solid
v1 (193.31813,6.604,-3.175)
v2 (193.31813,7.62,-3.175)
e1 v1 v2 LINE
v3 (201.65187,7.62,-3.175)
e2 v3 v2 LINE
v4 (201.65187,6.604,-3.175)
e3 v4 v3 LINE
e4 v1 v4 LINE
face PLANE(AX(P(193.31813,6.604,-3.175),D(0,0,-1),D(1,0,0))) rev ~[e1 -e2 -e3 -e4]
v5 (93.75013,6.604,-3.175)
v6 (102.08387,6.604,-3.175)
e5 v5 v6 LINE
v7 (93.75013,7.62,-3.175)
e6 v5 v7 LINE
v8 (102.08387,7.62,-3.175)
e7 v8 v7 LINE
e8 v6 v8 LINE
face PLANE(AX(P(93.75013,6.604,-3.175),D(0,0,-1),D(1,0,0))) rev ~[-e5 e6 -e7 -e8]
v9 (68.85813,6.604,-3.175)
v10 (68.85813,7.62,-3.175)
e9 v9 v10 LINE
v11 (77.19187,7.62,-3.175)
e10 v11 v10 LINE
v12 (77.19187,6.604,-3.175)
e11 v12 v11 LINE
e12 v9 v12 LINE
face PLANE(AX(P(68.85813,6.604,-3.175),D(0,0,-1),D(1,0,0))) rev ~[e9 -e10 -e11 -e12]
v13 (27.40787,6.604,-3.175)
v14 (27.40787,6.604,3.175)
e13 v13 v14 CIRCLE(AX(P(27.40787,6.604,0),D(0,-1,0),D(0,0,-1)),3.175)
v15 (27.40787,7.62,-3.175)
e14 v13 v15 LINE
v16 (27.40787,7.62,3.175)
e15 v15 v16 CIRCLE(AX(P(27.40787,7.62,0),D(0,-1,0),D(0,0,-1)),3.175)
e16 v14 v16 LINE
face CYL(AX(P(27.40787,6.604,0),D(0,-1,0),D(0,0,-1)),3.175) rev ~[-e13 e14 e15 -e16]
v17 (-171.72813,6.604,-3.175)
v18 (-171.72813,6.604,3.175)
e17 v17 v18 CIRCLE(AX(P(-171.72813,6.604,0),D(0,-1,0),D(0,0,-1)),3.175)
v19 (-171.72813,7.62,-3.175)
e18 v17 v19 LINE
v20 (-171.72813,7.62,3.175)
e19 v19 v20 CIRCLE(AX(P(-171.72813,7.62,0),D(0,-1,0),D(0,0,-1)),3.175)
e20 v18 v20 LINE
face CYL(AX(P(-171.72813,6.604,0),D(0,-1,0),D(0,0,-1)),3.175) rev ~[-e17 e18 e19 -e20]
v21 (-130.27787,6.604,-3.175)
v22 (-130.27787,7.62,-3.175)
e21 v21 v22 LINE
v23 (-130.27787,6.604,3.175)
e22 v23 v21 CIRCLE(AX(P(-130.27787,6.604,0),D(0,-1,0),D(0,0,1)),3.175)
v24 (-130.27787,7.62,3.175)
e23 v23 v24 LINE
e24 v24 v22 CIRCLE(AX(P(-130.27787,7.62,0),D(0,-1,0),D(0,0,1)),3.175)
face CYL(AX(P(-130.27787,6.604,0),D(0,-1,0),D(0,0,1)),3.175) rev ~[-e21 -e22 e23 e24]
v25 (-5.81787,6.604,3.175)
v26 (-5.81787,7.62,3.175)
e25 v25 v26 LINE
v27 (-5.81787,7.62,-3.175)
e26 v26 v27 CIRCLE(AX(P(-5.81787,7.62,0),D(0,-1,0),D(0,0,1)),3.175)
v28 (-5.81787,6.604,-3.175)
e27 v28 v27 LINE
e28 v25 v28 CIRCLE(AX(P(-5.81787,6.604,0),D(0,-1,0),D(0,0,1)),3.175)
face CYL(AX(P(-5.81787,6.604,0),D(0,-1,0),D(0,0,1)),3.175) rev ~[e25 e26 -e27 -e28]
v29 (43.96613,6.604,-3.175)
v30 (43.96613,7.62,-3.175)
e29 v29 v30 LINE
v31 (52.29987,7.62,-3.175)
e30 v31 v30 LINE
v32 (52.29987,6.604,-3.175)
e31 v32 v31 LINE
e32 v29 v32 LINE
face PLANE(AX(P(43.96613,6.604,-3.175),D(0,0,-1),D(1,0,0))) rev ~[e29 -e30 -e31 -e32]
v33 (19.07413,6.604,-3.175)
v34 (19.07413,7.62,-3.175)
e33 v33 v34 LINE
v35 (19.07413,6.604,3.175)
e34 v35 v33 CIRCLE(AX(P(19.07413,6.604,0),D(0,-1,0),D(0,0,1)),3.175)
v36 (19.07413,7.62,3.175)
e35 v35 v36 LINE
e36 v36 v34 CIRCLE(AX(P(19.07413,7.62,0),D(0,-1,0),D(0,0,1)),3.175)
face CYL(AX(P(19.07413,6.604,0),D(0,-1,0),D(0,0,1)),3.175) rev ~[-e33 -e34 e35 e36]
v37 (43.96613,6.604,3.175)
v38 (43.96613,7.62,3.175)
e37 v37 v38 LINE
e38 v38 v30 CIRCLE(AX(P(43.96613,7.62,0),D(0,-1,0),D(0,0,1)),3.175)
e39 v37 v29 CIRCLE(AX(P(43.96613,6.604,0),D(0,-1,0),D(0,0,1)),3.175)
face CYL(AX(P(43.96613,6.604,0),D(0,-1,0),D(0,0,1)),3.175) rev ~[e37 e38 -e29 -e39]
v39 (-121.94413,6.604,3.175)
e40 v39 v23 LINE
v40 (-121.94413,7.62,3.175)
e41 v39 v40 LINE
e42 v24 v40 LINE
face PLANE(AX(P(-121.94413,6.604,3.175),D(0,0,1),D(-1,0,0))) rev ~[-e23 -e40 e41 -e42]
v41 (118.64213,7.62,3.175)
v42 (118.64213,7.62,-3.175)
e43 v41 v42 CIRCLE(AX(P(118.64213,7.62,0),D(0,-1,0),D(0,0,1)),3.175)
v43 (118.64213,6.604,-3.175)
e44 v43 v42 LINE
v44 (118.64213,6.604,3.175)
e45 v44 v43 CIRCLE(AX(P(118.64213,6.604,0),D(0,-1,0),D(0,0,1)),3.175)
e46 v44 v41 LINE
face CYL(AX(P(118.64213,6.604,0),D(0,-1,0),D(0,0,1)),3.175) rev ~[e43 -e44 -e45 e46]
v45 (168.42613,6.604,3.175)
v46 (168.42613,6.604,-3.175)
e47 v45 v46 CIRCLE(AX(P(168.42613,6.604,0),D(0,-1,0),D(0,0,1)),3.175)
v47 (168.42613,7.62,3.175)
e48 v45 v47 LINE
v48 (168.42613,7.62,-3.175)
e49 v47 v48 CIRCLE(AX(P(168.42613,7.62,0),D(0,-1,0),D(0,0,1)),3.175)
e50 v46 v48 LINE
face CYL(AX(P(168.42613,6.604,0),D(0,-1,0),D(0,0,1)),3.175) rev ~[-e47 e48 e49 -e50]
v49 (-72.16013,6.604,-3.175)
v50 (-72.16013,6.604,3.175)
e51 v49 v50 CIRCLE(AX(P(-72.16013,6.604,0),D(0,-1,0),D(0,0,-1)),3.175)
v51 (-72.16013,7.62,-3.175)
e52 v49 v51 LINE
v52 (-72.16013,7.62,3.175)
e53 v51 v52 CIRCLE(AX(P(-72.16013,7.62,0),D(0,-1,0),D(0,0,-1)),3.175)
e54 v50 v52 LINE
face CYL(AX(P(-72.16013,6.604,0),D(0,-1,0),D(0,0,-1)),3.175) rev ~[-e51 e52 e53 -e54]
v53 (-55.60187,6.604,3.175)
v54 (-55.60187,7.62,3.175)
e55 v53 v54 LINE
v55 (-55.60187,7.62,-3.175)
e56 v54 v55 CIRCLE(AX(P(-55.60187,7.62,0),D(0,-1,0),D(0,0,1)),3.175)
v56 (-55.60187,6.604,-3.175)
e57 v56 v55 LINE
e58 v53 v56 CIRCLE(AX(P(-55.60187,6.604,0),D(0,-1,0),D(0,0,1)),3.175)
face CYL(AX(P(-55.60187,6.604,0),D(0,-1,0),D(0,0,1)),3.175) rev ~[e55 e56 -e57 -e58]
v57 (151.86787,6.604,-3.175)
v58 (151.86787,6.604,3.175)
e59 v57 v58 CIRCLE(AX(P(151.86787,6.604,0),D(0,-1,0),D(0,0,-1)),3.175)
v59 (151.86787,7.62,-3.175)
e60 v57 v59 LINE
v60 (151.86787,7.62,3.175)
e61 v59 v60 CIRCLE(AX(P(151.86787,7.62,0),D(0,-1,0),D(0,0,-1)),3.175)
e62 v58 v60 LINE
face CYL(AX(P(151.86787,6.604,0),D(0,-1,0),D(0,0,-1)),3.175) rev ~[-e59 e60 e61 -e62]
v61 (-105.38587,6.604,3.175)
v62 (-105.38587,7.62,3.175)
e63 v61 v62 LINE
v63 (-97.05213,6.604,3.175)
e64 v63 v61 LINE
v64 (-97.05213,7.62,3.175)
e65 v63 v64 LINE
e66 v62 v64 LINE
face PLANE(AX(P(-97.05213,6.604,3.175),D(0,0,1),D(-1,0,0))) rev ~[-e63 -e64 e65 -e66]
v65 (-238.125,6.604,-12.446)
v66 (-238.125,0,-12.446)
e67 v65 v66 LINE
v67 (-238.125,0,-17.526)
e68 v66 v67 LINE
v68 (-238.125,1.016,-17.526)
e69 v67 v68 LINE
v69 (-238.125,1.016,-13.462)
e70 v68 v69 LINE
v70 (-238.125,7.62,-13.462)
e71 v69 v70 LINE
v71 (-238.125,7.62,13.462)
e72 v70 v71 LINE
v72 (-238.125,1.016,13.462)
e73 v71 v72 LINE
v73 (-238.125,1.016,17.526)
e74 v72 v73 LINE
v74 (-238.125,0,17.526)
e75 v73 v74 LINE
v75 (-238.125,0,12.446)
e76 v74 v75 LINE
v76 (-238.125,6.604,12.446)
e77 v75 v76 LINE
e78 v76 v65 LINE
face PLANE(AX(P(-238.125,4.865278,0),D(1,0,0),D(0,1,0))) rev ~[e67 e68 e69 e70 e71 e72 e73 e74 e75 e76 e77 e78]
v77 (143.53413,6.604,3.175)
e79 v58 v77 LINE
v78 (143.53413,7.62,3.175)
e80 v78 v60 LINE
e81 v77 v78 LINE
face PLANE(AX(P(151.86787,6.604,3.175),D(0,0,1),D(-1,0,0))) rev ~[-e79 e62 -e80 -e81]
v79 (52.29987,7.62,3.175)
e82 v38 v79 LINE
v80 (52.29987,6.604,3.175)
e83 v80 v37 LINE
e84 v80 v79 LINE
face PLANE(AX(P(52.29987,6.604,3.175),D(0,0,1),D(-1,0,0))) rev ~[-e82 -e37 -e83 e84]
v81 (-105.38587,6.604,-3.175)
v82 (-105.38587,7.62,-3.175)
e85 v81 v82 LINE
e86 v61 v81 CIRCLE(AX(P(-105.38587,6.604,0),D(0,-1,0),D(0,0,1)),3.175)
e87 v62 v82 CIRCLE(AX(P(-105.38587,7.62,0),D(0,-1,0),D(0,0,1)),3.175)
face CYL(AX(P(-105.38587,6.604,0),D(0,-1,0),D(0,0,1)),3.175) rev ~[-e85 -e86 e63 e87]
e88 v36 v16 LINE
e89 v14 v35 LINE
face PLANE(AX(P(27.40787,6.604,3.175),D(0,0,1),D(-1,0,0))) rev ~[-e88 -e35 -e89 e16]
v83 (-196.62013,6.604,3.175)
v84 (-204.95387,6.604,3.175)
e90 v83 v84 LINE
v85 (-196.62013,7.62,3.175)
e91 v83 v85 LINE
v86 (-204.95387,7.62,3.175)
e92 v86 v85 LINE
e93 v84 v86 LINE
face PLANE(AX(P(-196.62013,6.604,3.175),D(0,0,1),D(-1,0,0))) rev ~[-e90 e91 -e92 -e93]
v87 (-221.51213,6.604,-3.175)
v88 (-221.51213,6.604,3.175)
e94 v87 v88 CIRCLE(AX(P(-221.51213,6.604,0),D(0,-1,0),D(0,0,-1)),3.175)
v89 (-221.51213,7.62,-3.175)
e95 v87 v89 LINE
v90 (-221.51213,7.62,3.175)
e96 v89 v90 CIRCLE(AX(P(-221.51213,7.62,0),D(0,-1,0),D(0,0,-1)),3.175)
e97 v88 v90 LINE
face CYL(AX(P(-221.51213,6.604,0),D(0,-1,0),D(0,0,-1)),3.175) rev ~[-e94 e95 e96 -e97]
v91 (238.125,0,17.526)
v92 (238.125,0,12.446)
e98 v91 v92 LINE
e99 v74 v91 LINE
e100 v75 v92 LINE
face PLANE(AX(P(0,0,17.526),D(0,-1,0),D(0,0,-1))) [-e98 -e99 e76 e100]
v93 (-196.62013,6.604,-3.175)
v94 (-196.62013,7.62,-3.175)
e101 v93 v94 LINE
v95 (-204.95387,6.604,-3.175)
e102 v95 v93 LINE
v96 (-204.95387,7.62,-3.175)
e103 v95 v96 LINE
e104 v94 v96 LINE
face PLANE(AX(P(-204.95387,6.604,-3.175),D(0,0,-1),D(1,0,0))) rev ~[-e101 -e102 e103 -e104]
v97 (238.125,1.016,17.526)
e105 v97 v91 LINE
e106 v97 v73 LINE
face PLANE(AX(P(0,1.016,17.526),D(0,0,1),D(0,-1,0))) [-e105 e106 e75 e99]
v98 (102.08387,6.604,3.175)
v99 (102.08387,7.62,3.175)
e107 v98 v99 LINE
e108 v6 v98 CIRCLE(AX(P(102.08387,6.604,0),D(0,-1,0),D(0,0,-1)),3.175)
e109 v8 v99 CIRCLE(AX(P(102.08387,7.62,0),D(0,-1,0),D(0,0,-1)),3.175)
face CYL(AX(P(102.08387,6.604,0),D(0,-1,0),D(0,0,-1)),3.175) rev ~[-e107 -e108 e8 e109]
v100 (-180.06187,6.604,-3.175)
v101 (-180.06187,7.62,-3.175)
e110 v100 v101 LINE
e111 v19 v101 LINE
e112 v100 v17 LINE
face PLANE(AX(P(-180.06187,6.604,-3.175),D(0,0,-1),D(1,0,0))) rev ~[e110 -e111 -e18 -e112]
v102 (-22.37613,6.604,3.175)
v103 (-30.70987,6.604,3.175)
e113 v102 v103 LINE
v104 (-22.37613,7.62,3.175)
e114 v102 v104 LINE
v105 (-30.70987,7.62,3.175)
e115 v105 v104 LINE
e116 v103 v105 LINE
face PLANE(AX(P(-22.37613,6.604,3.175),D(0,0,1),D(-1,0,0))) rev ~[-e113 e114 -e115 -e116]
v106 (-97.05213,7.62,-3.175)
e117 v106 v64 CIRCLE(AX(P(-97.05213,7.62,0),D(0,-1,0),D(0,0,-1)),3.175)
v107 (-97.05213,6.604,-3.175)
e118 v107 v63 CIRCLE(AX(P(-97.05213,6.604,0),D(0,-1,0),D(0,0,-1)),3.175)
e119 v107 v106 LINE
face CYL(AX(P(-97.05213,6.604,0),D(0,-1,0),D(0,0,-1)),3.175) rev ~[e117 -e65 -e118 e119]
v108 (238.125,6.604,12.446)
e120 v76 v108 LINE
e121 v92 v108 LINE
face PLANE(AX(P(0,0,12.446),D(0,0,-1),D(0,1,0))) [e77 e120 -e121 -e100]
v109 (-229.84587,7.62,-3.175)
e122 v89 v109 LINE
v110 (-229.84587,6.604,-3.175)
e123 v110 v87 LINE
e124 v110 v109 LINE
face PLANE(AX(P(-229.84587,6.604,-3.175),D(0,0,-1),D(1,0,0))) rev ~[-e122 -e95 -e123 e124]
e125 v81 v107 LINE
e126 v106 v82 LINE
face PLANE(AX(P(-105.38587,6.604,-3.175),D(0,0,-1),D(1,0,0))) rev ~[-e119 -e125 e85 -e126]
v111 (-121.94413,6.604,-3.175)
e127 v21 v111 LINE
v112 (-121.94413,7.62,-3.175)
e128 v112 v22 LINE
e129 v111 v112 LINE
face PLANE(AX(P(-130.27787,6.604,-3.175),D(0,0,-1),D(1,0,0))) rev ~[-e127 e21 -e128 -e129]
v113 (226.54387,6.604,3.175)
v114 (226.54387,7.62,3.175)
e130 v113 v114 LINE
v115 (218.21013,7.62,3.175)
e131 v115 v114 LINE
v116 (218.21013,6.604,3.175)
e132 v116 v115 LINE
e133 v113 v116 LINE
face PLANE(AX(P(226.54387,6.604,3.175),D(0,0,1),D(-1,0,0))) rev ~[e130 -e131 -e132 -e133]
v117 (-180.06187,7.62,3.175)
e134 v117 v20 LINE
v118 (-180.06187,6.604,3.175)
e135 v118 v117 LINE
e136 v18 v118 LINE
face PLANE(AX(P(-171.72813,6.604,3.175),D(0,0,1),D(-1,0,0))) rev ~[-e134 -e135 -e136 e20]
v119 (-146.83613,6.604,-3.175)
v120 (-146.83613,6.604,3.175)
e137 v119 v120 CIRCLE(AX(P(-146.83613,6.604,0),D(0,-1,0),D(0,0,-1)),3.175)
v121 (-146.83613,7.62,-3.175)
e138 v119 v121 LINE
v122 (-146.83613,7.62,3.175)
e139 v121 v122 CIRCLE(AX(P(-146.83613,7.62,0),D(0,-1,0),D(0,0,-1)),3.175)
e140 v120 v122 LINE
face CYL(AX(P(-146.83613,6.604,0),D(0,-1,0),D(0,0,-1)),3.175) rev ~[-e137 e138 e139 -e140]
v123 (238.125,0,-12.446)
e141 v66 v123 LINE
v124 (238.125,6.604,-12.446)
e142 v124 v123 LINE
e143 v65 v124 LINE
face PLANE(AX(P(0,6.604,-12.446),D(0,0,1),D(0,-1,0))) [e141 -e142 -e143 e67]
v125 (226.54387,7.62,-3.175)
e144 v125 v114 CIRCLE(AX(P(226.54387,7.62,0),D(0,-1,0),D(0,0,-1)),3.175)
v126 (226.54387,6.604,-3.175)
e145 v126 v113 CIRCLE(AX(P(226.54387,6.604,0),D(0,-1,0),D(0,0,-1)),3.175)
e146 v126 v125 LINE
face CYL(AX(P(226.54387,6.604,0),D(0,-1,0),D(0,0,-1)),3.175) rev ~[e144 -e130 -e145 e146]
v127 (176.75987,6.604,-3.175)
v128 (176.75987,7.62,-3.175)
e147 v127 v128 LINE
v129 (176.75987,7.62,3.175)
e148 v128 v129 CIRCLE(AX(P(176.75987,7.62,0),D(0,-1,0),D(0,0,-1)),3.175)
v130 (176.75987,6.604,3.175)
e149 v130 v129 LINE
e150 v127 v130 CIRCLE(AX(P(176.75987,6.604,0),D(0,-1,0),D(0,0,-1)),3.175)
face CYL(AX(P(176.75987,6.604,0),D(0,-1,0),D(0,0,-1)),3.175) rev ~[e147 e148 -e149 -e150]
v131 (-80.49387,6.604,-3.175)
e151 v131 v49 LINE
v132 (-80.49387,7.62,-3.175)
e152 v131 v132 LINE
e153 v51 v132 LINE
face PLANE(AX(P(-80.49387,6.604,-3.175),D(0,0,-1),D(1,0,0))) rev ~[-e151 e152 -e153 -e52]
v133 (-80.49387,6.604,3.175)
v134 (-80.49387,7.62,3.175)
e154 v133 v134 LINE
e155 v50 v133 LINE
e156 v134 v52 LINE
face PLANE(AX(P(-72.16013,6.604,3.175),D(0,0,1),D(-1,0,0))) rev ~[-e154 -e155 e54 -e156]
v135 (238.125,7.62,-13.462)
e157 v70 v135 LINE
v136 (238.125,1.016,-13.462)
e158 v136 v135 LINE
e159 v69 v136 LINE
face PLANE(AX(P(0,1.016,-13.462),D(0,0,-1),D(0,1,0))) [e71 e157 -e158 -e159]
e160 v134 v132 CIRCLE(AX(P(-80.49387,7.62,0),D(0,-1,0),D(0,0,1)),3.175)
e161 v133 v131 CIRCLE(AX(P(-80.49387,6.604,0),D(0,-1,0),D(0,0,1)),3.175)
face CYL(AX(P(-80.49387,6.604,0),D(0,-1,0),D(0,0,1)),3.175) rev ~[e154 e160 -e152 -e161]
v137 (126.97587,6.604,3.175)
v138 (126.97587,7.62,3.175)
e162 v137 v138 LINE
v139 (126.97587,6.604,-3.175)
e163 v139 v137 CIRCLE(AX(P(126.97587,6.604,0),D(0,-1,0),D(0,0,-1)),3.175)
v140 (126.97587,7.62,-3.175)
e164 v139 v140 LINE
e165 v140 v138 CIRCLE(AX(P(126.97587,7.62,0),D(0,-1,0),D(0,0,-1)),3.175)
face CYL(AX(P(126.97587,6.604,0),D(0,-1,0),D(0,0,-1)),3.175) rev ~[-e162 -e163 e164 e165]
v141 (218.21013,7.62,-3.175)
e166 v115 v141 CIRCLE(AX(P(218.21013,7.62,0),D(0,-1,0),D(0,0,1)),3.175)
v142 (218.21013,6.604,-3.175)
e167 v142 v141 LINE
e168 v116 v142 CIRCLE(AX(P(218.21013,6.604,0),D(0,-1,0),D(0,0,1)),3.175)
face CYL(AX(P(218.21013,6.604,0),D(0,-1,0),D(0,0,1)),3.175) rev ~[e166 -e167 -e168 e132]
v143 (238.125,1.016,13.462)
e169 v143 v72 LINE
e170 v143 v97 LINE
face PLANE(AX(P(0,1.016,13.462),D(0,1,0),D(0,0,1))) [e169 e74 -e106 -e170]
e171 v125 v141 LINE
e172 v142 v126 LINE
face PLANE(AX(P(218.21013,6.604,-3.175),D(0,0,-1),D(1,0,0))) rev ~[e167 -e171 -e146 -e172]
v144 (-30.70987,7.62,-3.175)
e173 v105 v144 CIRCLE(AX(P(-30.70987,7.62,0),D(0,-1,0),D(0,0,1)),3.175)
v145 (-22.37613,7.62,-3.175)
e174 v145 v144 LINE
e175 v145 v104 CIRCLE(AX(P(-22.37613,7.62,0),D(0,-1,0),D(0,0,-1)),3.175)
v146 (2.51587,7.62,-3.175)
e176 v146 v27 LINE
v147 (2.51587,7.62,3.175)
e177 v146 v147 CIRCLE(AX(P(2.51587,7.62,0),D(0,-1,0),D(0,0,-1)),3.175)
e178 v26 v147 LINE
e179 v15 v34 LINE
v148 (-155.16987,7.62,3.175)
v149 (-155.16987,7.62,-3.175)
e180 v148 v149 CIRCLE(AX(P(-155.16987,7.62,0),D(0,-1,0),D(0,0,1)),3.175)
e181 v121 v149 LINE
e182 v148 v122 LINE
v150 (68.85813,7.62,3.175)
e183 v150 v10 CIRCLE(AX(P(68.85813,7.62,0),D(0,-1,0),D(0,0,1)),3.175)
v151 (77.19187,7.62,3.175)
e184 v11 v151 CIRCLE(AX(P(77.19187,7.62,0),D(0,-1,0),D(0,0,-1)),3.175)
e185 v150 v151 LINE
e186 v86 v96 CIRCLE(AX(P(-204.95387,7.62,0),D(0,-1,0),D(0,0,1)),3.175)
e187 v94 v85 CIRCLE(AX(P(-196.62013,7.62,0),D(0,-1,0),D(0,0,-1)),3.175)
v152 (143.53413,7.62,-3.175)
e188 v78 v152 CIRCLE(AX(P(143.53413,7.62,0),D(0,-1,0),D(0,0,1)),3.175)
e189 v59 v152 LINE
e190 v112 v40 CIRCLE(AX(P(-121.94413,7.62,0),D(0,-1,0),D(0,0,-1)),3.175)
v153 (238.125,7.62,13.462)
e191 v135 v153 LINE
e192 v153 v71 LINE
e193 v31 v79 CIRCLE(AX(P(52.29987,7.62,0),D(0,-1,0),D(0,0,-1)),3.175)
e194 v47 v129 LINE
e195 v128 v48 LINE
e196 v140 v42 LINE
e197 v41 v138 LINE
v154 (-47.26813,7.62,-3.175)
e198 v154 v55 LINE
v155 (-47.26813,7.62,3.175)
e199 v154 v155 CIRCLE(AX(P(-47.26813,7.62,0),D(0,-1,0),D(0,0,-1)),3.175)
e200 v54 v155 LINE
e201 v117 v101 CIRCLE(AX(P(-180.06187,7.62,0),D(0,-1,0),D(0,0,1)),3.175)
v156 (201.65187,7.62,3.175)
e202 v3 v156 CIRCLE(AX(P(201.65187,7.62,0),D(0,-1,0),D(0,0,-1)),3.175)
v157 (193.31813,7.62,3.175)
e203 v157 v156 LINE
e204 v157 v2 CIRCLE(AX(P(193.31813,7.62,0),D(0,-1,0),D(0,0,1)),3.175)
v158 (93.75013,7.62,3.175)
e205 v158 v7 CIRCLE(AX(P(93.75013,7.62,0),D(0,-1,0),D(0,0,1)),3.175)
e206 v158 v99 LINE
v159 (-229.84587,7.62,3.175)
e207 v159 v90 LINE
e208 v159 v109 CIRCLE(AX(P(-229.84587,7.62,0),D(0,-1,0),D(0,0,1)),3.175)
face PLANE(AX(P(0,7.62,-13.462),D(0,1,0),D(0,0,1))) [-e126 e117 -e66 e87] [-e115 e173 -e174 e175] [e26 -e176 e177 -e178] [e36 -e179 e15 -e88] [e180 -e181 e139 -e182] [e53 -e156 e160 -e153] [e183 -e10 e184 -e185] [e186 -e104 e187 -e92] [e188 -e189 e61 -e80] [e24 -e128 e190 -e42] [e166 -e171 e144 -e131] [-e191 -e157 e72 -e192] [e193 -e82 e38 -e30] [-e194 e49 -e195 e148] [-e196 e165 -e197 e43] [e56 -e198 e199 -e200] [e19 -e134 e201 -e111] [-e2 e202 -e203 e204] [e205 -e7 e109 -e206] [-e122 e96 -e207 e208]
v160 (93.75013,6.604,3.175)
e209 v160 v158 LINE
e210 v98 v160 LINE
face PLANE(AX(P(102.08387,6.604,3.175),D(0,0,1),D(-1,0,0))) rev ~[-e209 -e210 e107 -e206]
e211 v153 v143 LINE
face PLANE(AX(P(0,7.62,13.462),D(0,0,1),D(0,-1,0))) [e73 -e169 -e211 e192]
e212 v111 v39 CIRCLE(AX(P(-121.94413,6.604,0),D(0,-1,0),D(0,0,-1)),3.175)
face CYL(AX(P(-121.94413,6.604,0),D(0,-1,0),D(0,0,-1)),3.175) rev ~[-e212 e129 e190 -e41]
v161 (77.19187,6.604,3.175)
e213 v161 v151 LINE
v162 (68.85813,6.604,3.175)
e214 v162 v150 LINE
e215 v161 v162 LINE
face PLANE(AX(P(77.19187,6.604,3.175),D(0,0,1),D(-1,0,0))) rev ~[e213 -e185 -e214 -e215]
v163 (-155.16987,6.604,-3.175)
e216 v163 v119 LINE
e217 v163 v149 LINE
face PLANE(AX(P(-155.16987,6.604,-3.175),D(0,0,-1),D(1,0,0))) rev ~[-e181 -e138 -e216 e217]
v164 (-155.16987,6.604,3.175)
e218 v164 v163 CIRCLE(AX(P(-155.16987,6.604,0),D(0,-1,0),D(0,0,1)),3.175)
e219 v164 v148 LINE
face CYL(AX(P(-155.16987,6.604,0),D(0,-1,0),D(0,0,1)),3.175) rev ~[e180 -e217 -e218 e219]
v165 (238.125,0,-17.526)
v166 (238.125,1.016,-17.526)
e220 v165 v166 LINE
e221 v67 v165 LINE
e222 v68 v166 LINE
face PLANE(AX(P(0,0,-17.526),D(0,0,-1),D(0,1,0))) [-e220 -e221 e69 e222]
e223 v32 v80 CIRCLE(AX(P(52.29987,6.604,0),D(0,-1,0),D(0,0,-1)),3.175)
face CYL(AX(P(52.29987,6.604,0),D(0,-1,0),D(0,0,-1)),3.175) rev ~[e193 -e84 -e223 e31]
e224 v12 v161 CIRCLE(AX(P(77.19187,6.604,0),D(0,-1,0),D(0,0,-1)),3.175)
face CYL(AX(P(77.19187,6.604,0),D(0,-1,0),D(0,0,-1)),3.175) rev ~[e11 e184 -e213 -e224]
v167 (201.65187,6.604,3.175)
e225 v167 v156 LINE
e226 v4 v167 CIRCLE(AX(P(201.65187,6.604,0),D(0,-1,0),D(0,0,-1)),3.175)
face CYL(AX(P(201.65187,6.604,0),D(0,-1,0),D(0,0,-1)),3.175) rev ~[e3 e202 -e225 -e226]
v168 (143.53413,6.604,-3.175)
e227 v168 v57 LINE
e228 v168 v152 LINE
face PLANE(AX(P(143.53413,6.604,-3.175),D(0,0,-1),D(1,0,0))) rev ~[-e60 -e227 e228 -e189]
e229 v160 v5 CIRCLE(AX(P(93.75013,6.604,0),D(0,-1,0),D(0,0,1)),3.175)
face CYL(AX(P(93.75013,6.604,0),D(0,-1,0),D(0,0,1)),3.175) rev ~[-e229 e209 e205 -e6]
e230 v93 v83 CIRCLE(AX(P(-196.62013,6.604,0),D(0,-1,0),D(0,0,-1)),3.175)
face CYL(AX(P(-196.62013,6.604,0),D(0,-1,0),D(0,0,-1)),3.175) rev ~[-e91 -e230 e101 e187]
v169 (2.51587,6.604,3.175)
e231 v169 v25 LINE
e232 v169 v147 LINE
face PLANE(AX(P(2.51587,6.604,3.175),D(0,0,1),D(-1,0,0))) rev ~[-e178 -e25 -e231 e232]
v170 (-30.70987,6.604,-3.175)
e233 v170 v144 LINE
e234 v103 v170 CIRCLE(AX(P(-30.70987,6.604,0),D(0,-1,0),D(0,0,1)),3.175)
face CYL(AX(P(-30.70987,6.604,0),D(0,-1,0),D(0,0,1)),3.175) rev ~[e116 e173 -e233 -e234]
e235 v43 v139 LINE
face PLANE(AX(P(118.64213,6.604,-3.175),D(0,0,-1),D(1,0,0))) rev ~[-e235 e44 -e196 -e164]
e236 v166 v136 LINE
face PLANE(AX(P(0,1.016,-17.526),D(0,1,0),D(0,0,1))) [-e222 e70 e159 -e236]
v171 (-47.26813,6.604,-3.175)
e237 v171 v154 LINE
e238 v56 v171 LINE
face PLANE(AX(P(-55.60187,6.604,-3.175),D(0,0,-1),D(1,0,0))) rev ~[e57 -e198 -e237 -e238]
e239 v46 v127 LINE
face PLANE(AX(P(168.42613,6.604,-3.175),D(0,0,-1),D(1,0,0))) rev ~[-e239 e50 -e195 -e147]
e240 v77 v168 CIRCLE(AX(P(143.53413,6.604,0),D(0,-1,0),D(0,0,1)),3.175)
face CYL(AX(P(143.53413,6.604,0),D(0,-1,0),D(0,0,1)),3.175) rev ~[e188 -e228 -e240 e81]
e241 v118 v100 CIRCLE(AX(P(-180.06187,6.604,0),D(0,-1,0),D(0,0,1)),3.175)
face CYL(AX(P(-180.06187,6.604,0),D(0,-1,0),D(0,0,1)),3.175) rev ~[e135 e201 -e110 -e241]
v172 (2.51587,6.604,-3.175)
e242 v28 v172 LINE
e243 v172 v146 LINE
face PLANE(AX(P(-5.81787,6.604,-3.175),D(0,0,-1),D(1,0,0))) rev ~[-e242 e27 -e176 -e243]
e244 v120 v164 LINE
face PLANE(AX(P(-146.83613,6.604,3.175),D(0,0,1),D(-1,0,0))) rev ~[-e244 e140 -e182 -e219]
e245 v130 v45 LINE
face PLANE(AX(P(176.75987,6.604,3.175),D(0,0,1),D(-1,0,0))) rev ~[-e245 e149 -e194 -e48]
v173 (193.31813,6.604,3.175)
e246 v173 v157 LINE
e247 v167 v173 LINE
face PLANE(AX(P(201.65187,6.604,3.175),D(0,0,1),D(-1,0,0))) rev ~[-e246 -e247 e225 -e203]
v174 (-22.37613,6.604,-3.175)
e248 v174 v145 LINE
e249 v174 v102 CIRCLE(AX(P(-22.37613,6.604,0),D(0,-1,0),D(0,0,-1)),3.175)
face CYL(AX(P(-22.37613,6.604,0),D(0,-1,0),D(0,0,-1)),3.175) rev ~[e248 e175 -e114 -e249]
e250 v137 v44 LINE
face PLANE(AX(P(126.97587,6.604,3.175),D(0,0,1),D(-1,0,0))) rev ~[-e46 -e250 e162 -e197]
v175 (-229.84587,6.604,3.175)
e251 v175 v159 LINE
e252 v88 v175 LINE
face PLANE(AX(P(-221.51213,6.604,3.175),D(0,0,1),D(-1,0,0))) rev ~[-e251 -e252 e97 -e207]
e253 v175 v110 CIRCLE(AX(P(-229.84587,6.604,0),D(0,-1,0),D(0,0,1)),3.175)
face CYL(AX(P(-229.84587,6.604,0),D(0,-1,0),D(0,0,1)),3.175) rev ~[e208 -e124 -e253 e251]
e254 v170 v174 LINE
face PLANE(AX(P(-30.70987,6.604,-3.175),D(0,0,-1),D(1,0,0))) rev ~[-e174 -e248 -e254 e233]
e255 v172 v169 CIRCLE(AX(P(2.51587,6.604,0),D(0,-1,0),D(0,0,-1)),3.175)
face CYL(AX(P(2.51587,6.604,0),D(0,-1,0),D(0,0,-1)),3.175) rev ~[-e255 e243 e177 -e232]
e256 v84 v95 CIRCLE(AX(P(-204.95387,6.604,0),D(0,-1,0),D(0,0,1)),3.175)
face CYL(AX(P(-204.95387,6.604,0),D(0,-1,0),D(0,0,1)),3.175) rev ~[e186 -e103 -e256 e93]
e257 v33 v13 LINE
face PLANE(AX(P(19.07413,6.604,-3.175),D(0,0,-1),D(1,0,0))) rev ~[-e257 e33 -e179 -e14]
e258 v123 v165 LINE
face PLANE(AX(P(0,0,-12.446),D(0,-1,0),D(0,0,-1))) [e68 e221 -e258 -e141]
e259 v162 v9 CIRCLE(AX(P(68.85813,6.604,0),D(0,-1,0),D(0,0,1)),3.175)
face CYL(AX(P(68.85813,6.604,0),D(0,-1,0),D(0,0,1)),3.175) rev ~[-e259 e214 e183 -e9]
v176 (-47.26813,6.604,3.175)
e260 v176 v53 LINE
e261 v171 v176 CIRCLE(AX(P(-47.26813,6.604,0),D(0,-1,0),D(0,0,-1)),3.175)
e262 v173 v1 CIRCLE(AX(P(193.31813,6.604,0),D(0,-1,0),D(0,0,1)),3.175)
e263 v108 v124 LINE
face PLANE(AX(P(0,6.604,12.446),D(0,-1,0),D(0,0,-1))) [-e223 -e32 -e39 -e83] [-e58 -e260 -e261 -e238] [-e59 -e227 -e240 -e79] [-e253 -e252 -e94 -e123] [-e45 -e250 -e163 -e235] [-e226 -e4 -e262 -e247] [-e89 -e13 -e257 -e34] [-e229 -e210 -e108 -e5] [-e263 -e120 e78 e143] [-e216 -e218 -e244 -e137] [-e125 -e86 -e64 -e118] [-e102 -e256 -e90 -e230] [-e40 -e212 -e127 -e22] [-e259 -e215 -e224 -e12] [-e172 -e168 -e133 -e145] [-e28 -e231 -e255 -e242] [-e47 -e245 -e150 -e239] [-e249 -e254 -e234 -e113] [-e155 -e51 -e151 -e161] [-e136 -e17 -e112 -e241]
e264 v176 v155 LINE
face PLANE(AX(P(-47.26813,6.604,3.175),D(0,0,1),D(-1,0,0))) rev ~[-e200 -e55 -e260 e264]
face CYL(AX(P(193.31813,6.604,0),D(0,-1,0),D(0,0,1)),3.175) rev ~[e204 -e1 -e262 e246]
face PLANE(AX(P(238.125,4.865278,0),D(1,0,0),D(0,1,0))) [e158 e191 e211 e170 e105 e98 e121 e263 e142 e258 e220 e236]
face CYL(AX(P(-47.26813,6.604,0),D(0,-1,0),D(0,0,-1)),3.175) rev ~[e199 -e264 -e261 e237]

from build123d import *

# Parameters (mm, degrees)
F1_DEPTH = 238.125
F3_DEPTH = 1.017


with BuildPart() as f1:
    # F0 (on Right) → F1 (new body, symmetric)
    with BuildSketch(Plane.YZ):
        Polygon((1.016, 17.526), (0, 17.526), (0, 12.446), (6.604, 12.446), (6.604, -12.446), (0, -12.446), (0, -17.526), (1.016, -17.526), (1.016, -13.462), (7.62, -13.462), (7.62, 13.462), (1.016, 13.462), align=None)
    extrude(amount=F1_DEPTH, both=True)

    # F2 (on face) → F3 (cut, through all)
    with BuildSketch(Plane.XZ.offset(-6.604)):
        with BuildLine():
            Line((-196.62013, 3.175), (-204.95387, 3.175))
            ThreePointArc((-204.95387, 3.175), (-208.12887, 0), (-204.95387, -3.175))
            Line((-204.95387, -3.175), (-196.62013, -3.175))
            ThreePointArc((-196.62013, -3.175), (-193.44513, 0), (-196.62013, 3.175))
        make_face()
        with BuildLine():
            ThreePointArc((-229.84587, 3.175), (-233.02087, 0), (-229.84587, -3.175))
            Line((-229.84587, -3.175), (-221.51213, -3.175))
            ThreePointArc((-221.51213, -3.175), (-218.33713, 0), (-221.51213, 3.175))
            Line((-221.51213, 3.175), (-229.84587, 3.175))
        make_face()
        with BuildLine():
            Line((-171.72813, 3.175), (-180.06187, 3.175))
            ThreePointArc((-180.06187, 3.175), (-183.23687, 0), (-180.06187, -3.175))
            Line((-180.06187, -3.175), (-171.72813, -3.175))
            ThreePointArc((-171.72813, -3.175), (-168.55313, 0), (-171.72813, 3.175))
        make_face()
        with BuildLine():
            Line((-146.83613, 3.175), (-155.16987, 3.175))
            ThreePointArc((-155.16987, 3.175), (-158.34487, 0), (-155.16987, -3.175))
            Line((-155.16987, -3.175), (-146.83613, -3.175))
            ThreePointArc((-146.83613, -3.175), (-143.66113, 0), (-146.83613, 3.175))
        make_face()
        with BuildLine():
            Line((-121.94413, 3.175), (-130.27787, 3.175))
            ThreePointArc((-130.27787, 3.175), (-133.45287, 0), (-130.27787, -3.175))
            Line((-130.27787, -3.175), (-121.94413, -3.175))
            ThreePointArc((-121.94413, -3.175), (-118.76913, 0), (-121.94413, 3.175))
        make_face()
        with BuildLine():
            Line((-97.05213, 3.175), (-105.38587, 3.175))
            ThreePointArc((-105.38587, 3.175), (-108.56087, 0), (-105.38587, -3.175))
            Line((-105.38587, -3.175), (-97.05213, -3.175))
            ThreePointArc((-97.05213, -3.175), (-93.87713, 0), (-97.05213, 3.175))
        make_face()
        with BuildLine():
            Line((-72.16013, 3.175), (-80.49387, 3.175))
            ThreePointArc((-80.49387, 3.175), (-83.66887, 0), (-80.49387, -3.175))
            Line((-80.49387, -3.175), (-72.16013, -3.175))
            ThreePointArc((-72.16013, -3.175), (-68.98513, 0), (-72.16013, 3.175))
        make_face()
        with BuildLine():
            Line((-47.26813, 3.175), (-55.60187, 3.175))
            ThreePointArc((-55.60187, 3.175), (-58.77687, 0), (-55.60187, -3.175))
            Line((-55.60187, -3.175), (-47.26813, -3.175))
            ThreePointArc((-47.26813, -3.175), (-44.09313, 0), (-47.26813, 3.175))
        make_face()
        with BuildLine():
            Line((-22.37613, 3.175), (-30.70987, 3.175))
            ThreePointArc((-30.70987, 3.175), (-33.88487, 0), (-30.70987, -3.175))
            Line((-30.70987, -3.175), (-22.37613, -3.175))
            ThreePointArc((-22.37613, -3.175), (-19.20113, 0), (-22.37613, 3.175))
        make_face()
        with BuildLine():
            Line((2.51587, 3.175), (-5.81787, 3.175))
            ThreePointArc((-5.81787, 3.175), (-8.99287, 0), (-5.81787, -3.175))
            Line((-5.81787, -3.175), (2.51587, -3.175))
            ThreePointArc((2.51587, -3.175), (5.69087, 0), (2.51587, 3.175))
        make_face()
        with BuildLine():
            Line((27.40787, 3.175), (19.07413, 3.175))
            ThreePointArc((19.07413, 3.175), (15.89913, 0), (19.07413, -3.175))
            Line((19.07413, -3.175), (27.40787, -3.175))
            ThreePointArc((27.40787, -3.175), (30.58287, 0), (27.40787, 3.175))
        make_face()
        with BuildLine():
            Line((52.29987, 3.175), (43.96613, 3.175))
            ThreePointArc((43.96613, 3.175), (40.79113, 0), (43.96613, -3.175))
            Line((43.96613, -3.175), (52.29987, -3.175))
            ThreePointArc((52.29987, -3.175), (55.47487, 0), (52.29987, 3.175))
        make_face()
        with BuildLine():
            Line((77.19187, 3.175), (68.85813, 3.175))
            ThreePointArc((68.85813, 3.175), (65.68313, 0), (68.85813, -3.175))
            Line((68.85813, -3.175), (77.19187, -3.175))
            ThreePointArc((77.19187, -3.175), (80.36687, 0), (77.19187, 3.175))
        make_face()
        with BuildLine():
            Line((102.08387, 3.175), (93.75013, 3.175))
            ThreePointArc((93.75013, 3.175), (90.57513, 0), (93.75013, -3.175))
            Line((93.75013, -3.175), (102.08387, -3.175))
            ThreePointArc((102.08387, -3.175), (105.25887, 0), (102.08387, 3.175))
        make_face()
        with BuildLine():
            Line((126.97587, 3.175), (118.64213, 3.175))
            ThreePointArc((118.64213, 3.175), (115.46713, 0), (118.64213, -3.175))
            Line((118.64213, -3.175), (126.97587, -3.175))
            ThreePointArc((126.97587, -3.175), (130.15087, 0), (126.97587, 3.175))
        make_face()
        with BuildLine():
            Line((151.86787, 3.175), (143.53413, 3.175))
            ThreePointArc((143.53413, 3.175), (140.35913, 0), (143.53413, -3.175))
            Line((143.53413, -3.175), (151.86787, -3.175))
            ThreePointArc((151.86787, -3.175), (155.04287, 0), (151.86787, 3.175))
        make_face()
        with BuildLine():
            Line((176.75987, 3.175), (168.42613, 3.175))
            ThreePointArc((168.42613, 3.175), (165.25113, 0), (168.42613, -3.175))
            Line((168.42613, -3.175), (176.75987, -3.175))
            ThreePointArc((176.75987, -3.175), (179.93487, 0), (176.75987, 3.175))
        make_face()
        with BuildLine():
            Line((201.65187, 3.175), (193.31813, 3.175))
            ThreePointArc((193.31813, 3.175), (190.14313, 0), (193.31813, -3.175))
            Line((193.31813, -3.175), (201.65187, -3.175))
            ThreePointArc((201.65187, -3.175), (204.82687, 0), (201.65187, 3.175))
        make_face()
        with BuildLine():
            Line((226.54387, 3.175), (218.21013, 3.175))
            ThreePointArc((218.21013, 3.175), (215.03513, 0), (218.21013, -3.175))
            Line((218.21013, -3.175), (226.54387, -3.175))
            ThreePointArc((226.54387, -3.175), (229.71887, 0), (226.54387, 3.175))
        make_face()
        with BuildLine():
            Line((251.43587, 3.175), (243.10213, 3.175))
            ThreePointArc((243.10213, 3.175), (239.92713, 0), (243.10213, -3.175))
            Line((243.10213, -3.175), (251.43587, -3.175))
            ThreePointArc((251.43587, -3.175), (254.61087, 0), (251.43587, 3.175))
        make_face()
    extrude(amount=-F3_DEPTH, mode=Mode.SUBTRACT)


solid = f1.part
